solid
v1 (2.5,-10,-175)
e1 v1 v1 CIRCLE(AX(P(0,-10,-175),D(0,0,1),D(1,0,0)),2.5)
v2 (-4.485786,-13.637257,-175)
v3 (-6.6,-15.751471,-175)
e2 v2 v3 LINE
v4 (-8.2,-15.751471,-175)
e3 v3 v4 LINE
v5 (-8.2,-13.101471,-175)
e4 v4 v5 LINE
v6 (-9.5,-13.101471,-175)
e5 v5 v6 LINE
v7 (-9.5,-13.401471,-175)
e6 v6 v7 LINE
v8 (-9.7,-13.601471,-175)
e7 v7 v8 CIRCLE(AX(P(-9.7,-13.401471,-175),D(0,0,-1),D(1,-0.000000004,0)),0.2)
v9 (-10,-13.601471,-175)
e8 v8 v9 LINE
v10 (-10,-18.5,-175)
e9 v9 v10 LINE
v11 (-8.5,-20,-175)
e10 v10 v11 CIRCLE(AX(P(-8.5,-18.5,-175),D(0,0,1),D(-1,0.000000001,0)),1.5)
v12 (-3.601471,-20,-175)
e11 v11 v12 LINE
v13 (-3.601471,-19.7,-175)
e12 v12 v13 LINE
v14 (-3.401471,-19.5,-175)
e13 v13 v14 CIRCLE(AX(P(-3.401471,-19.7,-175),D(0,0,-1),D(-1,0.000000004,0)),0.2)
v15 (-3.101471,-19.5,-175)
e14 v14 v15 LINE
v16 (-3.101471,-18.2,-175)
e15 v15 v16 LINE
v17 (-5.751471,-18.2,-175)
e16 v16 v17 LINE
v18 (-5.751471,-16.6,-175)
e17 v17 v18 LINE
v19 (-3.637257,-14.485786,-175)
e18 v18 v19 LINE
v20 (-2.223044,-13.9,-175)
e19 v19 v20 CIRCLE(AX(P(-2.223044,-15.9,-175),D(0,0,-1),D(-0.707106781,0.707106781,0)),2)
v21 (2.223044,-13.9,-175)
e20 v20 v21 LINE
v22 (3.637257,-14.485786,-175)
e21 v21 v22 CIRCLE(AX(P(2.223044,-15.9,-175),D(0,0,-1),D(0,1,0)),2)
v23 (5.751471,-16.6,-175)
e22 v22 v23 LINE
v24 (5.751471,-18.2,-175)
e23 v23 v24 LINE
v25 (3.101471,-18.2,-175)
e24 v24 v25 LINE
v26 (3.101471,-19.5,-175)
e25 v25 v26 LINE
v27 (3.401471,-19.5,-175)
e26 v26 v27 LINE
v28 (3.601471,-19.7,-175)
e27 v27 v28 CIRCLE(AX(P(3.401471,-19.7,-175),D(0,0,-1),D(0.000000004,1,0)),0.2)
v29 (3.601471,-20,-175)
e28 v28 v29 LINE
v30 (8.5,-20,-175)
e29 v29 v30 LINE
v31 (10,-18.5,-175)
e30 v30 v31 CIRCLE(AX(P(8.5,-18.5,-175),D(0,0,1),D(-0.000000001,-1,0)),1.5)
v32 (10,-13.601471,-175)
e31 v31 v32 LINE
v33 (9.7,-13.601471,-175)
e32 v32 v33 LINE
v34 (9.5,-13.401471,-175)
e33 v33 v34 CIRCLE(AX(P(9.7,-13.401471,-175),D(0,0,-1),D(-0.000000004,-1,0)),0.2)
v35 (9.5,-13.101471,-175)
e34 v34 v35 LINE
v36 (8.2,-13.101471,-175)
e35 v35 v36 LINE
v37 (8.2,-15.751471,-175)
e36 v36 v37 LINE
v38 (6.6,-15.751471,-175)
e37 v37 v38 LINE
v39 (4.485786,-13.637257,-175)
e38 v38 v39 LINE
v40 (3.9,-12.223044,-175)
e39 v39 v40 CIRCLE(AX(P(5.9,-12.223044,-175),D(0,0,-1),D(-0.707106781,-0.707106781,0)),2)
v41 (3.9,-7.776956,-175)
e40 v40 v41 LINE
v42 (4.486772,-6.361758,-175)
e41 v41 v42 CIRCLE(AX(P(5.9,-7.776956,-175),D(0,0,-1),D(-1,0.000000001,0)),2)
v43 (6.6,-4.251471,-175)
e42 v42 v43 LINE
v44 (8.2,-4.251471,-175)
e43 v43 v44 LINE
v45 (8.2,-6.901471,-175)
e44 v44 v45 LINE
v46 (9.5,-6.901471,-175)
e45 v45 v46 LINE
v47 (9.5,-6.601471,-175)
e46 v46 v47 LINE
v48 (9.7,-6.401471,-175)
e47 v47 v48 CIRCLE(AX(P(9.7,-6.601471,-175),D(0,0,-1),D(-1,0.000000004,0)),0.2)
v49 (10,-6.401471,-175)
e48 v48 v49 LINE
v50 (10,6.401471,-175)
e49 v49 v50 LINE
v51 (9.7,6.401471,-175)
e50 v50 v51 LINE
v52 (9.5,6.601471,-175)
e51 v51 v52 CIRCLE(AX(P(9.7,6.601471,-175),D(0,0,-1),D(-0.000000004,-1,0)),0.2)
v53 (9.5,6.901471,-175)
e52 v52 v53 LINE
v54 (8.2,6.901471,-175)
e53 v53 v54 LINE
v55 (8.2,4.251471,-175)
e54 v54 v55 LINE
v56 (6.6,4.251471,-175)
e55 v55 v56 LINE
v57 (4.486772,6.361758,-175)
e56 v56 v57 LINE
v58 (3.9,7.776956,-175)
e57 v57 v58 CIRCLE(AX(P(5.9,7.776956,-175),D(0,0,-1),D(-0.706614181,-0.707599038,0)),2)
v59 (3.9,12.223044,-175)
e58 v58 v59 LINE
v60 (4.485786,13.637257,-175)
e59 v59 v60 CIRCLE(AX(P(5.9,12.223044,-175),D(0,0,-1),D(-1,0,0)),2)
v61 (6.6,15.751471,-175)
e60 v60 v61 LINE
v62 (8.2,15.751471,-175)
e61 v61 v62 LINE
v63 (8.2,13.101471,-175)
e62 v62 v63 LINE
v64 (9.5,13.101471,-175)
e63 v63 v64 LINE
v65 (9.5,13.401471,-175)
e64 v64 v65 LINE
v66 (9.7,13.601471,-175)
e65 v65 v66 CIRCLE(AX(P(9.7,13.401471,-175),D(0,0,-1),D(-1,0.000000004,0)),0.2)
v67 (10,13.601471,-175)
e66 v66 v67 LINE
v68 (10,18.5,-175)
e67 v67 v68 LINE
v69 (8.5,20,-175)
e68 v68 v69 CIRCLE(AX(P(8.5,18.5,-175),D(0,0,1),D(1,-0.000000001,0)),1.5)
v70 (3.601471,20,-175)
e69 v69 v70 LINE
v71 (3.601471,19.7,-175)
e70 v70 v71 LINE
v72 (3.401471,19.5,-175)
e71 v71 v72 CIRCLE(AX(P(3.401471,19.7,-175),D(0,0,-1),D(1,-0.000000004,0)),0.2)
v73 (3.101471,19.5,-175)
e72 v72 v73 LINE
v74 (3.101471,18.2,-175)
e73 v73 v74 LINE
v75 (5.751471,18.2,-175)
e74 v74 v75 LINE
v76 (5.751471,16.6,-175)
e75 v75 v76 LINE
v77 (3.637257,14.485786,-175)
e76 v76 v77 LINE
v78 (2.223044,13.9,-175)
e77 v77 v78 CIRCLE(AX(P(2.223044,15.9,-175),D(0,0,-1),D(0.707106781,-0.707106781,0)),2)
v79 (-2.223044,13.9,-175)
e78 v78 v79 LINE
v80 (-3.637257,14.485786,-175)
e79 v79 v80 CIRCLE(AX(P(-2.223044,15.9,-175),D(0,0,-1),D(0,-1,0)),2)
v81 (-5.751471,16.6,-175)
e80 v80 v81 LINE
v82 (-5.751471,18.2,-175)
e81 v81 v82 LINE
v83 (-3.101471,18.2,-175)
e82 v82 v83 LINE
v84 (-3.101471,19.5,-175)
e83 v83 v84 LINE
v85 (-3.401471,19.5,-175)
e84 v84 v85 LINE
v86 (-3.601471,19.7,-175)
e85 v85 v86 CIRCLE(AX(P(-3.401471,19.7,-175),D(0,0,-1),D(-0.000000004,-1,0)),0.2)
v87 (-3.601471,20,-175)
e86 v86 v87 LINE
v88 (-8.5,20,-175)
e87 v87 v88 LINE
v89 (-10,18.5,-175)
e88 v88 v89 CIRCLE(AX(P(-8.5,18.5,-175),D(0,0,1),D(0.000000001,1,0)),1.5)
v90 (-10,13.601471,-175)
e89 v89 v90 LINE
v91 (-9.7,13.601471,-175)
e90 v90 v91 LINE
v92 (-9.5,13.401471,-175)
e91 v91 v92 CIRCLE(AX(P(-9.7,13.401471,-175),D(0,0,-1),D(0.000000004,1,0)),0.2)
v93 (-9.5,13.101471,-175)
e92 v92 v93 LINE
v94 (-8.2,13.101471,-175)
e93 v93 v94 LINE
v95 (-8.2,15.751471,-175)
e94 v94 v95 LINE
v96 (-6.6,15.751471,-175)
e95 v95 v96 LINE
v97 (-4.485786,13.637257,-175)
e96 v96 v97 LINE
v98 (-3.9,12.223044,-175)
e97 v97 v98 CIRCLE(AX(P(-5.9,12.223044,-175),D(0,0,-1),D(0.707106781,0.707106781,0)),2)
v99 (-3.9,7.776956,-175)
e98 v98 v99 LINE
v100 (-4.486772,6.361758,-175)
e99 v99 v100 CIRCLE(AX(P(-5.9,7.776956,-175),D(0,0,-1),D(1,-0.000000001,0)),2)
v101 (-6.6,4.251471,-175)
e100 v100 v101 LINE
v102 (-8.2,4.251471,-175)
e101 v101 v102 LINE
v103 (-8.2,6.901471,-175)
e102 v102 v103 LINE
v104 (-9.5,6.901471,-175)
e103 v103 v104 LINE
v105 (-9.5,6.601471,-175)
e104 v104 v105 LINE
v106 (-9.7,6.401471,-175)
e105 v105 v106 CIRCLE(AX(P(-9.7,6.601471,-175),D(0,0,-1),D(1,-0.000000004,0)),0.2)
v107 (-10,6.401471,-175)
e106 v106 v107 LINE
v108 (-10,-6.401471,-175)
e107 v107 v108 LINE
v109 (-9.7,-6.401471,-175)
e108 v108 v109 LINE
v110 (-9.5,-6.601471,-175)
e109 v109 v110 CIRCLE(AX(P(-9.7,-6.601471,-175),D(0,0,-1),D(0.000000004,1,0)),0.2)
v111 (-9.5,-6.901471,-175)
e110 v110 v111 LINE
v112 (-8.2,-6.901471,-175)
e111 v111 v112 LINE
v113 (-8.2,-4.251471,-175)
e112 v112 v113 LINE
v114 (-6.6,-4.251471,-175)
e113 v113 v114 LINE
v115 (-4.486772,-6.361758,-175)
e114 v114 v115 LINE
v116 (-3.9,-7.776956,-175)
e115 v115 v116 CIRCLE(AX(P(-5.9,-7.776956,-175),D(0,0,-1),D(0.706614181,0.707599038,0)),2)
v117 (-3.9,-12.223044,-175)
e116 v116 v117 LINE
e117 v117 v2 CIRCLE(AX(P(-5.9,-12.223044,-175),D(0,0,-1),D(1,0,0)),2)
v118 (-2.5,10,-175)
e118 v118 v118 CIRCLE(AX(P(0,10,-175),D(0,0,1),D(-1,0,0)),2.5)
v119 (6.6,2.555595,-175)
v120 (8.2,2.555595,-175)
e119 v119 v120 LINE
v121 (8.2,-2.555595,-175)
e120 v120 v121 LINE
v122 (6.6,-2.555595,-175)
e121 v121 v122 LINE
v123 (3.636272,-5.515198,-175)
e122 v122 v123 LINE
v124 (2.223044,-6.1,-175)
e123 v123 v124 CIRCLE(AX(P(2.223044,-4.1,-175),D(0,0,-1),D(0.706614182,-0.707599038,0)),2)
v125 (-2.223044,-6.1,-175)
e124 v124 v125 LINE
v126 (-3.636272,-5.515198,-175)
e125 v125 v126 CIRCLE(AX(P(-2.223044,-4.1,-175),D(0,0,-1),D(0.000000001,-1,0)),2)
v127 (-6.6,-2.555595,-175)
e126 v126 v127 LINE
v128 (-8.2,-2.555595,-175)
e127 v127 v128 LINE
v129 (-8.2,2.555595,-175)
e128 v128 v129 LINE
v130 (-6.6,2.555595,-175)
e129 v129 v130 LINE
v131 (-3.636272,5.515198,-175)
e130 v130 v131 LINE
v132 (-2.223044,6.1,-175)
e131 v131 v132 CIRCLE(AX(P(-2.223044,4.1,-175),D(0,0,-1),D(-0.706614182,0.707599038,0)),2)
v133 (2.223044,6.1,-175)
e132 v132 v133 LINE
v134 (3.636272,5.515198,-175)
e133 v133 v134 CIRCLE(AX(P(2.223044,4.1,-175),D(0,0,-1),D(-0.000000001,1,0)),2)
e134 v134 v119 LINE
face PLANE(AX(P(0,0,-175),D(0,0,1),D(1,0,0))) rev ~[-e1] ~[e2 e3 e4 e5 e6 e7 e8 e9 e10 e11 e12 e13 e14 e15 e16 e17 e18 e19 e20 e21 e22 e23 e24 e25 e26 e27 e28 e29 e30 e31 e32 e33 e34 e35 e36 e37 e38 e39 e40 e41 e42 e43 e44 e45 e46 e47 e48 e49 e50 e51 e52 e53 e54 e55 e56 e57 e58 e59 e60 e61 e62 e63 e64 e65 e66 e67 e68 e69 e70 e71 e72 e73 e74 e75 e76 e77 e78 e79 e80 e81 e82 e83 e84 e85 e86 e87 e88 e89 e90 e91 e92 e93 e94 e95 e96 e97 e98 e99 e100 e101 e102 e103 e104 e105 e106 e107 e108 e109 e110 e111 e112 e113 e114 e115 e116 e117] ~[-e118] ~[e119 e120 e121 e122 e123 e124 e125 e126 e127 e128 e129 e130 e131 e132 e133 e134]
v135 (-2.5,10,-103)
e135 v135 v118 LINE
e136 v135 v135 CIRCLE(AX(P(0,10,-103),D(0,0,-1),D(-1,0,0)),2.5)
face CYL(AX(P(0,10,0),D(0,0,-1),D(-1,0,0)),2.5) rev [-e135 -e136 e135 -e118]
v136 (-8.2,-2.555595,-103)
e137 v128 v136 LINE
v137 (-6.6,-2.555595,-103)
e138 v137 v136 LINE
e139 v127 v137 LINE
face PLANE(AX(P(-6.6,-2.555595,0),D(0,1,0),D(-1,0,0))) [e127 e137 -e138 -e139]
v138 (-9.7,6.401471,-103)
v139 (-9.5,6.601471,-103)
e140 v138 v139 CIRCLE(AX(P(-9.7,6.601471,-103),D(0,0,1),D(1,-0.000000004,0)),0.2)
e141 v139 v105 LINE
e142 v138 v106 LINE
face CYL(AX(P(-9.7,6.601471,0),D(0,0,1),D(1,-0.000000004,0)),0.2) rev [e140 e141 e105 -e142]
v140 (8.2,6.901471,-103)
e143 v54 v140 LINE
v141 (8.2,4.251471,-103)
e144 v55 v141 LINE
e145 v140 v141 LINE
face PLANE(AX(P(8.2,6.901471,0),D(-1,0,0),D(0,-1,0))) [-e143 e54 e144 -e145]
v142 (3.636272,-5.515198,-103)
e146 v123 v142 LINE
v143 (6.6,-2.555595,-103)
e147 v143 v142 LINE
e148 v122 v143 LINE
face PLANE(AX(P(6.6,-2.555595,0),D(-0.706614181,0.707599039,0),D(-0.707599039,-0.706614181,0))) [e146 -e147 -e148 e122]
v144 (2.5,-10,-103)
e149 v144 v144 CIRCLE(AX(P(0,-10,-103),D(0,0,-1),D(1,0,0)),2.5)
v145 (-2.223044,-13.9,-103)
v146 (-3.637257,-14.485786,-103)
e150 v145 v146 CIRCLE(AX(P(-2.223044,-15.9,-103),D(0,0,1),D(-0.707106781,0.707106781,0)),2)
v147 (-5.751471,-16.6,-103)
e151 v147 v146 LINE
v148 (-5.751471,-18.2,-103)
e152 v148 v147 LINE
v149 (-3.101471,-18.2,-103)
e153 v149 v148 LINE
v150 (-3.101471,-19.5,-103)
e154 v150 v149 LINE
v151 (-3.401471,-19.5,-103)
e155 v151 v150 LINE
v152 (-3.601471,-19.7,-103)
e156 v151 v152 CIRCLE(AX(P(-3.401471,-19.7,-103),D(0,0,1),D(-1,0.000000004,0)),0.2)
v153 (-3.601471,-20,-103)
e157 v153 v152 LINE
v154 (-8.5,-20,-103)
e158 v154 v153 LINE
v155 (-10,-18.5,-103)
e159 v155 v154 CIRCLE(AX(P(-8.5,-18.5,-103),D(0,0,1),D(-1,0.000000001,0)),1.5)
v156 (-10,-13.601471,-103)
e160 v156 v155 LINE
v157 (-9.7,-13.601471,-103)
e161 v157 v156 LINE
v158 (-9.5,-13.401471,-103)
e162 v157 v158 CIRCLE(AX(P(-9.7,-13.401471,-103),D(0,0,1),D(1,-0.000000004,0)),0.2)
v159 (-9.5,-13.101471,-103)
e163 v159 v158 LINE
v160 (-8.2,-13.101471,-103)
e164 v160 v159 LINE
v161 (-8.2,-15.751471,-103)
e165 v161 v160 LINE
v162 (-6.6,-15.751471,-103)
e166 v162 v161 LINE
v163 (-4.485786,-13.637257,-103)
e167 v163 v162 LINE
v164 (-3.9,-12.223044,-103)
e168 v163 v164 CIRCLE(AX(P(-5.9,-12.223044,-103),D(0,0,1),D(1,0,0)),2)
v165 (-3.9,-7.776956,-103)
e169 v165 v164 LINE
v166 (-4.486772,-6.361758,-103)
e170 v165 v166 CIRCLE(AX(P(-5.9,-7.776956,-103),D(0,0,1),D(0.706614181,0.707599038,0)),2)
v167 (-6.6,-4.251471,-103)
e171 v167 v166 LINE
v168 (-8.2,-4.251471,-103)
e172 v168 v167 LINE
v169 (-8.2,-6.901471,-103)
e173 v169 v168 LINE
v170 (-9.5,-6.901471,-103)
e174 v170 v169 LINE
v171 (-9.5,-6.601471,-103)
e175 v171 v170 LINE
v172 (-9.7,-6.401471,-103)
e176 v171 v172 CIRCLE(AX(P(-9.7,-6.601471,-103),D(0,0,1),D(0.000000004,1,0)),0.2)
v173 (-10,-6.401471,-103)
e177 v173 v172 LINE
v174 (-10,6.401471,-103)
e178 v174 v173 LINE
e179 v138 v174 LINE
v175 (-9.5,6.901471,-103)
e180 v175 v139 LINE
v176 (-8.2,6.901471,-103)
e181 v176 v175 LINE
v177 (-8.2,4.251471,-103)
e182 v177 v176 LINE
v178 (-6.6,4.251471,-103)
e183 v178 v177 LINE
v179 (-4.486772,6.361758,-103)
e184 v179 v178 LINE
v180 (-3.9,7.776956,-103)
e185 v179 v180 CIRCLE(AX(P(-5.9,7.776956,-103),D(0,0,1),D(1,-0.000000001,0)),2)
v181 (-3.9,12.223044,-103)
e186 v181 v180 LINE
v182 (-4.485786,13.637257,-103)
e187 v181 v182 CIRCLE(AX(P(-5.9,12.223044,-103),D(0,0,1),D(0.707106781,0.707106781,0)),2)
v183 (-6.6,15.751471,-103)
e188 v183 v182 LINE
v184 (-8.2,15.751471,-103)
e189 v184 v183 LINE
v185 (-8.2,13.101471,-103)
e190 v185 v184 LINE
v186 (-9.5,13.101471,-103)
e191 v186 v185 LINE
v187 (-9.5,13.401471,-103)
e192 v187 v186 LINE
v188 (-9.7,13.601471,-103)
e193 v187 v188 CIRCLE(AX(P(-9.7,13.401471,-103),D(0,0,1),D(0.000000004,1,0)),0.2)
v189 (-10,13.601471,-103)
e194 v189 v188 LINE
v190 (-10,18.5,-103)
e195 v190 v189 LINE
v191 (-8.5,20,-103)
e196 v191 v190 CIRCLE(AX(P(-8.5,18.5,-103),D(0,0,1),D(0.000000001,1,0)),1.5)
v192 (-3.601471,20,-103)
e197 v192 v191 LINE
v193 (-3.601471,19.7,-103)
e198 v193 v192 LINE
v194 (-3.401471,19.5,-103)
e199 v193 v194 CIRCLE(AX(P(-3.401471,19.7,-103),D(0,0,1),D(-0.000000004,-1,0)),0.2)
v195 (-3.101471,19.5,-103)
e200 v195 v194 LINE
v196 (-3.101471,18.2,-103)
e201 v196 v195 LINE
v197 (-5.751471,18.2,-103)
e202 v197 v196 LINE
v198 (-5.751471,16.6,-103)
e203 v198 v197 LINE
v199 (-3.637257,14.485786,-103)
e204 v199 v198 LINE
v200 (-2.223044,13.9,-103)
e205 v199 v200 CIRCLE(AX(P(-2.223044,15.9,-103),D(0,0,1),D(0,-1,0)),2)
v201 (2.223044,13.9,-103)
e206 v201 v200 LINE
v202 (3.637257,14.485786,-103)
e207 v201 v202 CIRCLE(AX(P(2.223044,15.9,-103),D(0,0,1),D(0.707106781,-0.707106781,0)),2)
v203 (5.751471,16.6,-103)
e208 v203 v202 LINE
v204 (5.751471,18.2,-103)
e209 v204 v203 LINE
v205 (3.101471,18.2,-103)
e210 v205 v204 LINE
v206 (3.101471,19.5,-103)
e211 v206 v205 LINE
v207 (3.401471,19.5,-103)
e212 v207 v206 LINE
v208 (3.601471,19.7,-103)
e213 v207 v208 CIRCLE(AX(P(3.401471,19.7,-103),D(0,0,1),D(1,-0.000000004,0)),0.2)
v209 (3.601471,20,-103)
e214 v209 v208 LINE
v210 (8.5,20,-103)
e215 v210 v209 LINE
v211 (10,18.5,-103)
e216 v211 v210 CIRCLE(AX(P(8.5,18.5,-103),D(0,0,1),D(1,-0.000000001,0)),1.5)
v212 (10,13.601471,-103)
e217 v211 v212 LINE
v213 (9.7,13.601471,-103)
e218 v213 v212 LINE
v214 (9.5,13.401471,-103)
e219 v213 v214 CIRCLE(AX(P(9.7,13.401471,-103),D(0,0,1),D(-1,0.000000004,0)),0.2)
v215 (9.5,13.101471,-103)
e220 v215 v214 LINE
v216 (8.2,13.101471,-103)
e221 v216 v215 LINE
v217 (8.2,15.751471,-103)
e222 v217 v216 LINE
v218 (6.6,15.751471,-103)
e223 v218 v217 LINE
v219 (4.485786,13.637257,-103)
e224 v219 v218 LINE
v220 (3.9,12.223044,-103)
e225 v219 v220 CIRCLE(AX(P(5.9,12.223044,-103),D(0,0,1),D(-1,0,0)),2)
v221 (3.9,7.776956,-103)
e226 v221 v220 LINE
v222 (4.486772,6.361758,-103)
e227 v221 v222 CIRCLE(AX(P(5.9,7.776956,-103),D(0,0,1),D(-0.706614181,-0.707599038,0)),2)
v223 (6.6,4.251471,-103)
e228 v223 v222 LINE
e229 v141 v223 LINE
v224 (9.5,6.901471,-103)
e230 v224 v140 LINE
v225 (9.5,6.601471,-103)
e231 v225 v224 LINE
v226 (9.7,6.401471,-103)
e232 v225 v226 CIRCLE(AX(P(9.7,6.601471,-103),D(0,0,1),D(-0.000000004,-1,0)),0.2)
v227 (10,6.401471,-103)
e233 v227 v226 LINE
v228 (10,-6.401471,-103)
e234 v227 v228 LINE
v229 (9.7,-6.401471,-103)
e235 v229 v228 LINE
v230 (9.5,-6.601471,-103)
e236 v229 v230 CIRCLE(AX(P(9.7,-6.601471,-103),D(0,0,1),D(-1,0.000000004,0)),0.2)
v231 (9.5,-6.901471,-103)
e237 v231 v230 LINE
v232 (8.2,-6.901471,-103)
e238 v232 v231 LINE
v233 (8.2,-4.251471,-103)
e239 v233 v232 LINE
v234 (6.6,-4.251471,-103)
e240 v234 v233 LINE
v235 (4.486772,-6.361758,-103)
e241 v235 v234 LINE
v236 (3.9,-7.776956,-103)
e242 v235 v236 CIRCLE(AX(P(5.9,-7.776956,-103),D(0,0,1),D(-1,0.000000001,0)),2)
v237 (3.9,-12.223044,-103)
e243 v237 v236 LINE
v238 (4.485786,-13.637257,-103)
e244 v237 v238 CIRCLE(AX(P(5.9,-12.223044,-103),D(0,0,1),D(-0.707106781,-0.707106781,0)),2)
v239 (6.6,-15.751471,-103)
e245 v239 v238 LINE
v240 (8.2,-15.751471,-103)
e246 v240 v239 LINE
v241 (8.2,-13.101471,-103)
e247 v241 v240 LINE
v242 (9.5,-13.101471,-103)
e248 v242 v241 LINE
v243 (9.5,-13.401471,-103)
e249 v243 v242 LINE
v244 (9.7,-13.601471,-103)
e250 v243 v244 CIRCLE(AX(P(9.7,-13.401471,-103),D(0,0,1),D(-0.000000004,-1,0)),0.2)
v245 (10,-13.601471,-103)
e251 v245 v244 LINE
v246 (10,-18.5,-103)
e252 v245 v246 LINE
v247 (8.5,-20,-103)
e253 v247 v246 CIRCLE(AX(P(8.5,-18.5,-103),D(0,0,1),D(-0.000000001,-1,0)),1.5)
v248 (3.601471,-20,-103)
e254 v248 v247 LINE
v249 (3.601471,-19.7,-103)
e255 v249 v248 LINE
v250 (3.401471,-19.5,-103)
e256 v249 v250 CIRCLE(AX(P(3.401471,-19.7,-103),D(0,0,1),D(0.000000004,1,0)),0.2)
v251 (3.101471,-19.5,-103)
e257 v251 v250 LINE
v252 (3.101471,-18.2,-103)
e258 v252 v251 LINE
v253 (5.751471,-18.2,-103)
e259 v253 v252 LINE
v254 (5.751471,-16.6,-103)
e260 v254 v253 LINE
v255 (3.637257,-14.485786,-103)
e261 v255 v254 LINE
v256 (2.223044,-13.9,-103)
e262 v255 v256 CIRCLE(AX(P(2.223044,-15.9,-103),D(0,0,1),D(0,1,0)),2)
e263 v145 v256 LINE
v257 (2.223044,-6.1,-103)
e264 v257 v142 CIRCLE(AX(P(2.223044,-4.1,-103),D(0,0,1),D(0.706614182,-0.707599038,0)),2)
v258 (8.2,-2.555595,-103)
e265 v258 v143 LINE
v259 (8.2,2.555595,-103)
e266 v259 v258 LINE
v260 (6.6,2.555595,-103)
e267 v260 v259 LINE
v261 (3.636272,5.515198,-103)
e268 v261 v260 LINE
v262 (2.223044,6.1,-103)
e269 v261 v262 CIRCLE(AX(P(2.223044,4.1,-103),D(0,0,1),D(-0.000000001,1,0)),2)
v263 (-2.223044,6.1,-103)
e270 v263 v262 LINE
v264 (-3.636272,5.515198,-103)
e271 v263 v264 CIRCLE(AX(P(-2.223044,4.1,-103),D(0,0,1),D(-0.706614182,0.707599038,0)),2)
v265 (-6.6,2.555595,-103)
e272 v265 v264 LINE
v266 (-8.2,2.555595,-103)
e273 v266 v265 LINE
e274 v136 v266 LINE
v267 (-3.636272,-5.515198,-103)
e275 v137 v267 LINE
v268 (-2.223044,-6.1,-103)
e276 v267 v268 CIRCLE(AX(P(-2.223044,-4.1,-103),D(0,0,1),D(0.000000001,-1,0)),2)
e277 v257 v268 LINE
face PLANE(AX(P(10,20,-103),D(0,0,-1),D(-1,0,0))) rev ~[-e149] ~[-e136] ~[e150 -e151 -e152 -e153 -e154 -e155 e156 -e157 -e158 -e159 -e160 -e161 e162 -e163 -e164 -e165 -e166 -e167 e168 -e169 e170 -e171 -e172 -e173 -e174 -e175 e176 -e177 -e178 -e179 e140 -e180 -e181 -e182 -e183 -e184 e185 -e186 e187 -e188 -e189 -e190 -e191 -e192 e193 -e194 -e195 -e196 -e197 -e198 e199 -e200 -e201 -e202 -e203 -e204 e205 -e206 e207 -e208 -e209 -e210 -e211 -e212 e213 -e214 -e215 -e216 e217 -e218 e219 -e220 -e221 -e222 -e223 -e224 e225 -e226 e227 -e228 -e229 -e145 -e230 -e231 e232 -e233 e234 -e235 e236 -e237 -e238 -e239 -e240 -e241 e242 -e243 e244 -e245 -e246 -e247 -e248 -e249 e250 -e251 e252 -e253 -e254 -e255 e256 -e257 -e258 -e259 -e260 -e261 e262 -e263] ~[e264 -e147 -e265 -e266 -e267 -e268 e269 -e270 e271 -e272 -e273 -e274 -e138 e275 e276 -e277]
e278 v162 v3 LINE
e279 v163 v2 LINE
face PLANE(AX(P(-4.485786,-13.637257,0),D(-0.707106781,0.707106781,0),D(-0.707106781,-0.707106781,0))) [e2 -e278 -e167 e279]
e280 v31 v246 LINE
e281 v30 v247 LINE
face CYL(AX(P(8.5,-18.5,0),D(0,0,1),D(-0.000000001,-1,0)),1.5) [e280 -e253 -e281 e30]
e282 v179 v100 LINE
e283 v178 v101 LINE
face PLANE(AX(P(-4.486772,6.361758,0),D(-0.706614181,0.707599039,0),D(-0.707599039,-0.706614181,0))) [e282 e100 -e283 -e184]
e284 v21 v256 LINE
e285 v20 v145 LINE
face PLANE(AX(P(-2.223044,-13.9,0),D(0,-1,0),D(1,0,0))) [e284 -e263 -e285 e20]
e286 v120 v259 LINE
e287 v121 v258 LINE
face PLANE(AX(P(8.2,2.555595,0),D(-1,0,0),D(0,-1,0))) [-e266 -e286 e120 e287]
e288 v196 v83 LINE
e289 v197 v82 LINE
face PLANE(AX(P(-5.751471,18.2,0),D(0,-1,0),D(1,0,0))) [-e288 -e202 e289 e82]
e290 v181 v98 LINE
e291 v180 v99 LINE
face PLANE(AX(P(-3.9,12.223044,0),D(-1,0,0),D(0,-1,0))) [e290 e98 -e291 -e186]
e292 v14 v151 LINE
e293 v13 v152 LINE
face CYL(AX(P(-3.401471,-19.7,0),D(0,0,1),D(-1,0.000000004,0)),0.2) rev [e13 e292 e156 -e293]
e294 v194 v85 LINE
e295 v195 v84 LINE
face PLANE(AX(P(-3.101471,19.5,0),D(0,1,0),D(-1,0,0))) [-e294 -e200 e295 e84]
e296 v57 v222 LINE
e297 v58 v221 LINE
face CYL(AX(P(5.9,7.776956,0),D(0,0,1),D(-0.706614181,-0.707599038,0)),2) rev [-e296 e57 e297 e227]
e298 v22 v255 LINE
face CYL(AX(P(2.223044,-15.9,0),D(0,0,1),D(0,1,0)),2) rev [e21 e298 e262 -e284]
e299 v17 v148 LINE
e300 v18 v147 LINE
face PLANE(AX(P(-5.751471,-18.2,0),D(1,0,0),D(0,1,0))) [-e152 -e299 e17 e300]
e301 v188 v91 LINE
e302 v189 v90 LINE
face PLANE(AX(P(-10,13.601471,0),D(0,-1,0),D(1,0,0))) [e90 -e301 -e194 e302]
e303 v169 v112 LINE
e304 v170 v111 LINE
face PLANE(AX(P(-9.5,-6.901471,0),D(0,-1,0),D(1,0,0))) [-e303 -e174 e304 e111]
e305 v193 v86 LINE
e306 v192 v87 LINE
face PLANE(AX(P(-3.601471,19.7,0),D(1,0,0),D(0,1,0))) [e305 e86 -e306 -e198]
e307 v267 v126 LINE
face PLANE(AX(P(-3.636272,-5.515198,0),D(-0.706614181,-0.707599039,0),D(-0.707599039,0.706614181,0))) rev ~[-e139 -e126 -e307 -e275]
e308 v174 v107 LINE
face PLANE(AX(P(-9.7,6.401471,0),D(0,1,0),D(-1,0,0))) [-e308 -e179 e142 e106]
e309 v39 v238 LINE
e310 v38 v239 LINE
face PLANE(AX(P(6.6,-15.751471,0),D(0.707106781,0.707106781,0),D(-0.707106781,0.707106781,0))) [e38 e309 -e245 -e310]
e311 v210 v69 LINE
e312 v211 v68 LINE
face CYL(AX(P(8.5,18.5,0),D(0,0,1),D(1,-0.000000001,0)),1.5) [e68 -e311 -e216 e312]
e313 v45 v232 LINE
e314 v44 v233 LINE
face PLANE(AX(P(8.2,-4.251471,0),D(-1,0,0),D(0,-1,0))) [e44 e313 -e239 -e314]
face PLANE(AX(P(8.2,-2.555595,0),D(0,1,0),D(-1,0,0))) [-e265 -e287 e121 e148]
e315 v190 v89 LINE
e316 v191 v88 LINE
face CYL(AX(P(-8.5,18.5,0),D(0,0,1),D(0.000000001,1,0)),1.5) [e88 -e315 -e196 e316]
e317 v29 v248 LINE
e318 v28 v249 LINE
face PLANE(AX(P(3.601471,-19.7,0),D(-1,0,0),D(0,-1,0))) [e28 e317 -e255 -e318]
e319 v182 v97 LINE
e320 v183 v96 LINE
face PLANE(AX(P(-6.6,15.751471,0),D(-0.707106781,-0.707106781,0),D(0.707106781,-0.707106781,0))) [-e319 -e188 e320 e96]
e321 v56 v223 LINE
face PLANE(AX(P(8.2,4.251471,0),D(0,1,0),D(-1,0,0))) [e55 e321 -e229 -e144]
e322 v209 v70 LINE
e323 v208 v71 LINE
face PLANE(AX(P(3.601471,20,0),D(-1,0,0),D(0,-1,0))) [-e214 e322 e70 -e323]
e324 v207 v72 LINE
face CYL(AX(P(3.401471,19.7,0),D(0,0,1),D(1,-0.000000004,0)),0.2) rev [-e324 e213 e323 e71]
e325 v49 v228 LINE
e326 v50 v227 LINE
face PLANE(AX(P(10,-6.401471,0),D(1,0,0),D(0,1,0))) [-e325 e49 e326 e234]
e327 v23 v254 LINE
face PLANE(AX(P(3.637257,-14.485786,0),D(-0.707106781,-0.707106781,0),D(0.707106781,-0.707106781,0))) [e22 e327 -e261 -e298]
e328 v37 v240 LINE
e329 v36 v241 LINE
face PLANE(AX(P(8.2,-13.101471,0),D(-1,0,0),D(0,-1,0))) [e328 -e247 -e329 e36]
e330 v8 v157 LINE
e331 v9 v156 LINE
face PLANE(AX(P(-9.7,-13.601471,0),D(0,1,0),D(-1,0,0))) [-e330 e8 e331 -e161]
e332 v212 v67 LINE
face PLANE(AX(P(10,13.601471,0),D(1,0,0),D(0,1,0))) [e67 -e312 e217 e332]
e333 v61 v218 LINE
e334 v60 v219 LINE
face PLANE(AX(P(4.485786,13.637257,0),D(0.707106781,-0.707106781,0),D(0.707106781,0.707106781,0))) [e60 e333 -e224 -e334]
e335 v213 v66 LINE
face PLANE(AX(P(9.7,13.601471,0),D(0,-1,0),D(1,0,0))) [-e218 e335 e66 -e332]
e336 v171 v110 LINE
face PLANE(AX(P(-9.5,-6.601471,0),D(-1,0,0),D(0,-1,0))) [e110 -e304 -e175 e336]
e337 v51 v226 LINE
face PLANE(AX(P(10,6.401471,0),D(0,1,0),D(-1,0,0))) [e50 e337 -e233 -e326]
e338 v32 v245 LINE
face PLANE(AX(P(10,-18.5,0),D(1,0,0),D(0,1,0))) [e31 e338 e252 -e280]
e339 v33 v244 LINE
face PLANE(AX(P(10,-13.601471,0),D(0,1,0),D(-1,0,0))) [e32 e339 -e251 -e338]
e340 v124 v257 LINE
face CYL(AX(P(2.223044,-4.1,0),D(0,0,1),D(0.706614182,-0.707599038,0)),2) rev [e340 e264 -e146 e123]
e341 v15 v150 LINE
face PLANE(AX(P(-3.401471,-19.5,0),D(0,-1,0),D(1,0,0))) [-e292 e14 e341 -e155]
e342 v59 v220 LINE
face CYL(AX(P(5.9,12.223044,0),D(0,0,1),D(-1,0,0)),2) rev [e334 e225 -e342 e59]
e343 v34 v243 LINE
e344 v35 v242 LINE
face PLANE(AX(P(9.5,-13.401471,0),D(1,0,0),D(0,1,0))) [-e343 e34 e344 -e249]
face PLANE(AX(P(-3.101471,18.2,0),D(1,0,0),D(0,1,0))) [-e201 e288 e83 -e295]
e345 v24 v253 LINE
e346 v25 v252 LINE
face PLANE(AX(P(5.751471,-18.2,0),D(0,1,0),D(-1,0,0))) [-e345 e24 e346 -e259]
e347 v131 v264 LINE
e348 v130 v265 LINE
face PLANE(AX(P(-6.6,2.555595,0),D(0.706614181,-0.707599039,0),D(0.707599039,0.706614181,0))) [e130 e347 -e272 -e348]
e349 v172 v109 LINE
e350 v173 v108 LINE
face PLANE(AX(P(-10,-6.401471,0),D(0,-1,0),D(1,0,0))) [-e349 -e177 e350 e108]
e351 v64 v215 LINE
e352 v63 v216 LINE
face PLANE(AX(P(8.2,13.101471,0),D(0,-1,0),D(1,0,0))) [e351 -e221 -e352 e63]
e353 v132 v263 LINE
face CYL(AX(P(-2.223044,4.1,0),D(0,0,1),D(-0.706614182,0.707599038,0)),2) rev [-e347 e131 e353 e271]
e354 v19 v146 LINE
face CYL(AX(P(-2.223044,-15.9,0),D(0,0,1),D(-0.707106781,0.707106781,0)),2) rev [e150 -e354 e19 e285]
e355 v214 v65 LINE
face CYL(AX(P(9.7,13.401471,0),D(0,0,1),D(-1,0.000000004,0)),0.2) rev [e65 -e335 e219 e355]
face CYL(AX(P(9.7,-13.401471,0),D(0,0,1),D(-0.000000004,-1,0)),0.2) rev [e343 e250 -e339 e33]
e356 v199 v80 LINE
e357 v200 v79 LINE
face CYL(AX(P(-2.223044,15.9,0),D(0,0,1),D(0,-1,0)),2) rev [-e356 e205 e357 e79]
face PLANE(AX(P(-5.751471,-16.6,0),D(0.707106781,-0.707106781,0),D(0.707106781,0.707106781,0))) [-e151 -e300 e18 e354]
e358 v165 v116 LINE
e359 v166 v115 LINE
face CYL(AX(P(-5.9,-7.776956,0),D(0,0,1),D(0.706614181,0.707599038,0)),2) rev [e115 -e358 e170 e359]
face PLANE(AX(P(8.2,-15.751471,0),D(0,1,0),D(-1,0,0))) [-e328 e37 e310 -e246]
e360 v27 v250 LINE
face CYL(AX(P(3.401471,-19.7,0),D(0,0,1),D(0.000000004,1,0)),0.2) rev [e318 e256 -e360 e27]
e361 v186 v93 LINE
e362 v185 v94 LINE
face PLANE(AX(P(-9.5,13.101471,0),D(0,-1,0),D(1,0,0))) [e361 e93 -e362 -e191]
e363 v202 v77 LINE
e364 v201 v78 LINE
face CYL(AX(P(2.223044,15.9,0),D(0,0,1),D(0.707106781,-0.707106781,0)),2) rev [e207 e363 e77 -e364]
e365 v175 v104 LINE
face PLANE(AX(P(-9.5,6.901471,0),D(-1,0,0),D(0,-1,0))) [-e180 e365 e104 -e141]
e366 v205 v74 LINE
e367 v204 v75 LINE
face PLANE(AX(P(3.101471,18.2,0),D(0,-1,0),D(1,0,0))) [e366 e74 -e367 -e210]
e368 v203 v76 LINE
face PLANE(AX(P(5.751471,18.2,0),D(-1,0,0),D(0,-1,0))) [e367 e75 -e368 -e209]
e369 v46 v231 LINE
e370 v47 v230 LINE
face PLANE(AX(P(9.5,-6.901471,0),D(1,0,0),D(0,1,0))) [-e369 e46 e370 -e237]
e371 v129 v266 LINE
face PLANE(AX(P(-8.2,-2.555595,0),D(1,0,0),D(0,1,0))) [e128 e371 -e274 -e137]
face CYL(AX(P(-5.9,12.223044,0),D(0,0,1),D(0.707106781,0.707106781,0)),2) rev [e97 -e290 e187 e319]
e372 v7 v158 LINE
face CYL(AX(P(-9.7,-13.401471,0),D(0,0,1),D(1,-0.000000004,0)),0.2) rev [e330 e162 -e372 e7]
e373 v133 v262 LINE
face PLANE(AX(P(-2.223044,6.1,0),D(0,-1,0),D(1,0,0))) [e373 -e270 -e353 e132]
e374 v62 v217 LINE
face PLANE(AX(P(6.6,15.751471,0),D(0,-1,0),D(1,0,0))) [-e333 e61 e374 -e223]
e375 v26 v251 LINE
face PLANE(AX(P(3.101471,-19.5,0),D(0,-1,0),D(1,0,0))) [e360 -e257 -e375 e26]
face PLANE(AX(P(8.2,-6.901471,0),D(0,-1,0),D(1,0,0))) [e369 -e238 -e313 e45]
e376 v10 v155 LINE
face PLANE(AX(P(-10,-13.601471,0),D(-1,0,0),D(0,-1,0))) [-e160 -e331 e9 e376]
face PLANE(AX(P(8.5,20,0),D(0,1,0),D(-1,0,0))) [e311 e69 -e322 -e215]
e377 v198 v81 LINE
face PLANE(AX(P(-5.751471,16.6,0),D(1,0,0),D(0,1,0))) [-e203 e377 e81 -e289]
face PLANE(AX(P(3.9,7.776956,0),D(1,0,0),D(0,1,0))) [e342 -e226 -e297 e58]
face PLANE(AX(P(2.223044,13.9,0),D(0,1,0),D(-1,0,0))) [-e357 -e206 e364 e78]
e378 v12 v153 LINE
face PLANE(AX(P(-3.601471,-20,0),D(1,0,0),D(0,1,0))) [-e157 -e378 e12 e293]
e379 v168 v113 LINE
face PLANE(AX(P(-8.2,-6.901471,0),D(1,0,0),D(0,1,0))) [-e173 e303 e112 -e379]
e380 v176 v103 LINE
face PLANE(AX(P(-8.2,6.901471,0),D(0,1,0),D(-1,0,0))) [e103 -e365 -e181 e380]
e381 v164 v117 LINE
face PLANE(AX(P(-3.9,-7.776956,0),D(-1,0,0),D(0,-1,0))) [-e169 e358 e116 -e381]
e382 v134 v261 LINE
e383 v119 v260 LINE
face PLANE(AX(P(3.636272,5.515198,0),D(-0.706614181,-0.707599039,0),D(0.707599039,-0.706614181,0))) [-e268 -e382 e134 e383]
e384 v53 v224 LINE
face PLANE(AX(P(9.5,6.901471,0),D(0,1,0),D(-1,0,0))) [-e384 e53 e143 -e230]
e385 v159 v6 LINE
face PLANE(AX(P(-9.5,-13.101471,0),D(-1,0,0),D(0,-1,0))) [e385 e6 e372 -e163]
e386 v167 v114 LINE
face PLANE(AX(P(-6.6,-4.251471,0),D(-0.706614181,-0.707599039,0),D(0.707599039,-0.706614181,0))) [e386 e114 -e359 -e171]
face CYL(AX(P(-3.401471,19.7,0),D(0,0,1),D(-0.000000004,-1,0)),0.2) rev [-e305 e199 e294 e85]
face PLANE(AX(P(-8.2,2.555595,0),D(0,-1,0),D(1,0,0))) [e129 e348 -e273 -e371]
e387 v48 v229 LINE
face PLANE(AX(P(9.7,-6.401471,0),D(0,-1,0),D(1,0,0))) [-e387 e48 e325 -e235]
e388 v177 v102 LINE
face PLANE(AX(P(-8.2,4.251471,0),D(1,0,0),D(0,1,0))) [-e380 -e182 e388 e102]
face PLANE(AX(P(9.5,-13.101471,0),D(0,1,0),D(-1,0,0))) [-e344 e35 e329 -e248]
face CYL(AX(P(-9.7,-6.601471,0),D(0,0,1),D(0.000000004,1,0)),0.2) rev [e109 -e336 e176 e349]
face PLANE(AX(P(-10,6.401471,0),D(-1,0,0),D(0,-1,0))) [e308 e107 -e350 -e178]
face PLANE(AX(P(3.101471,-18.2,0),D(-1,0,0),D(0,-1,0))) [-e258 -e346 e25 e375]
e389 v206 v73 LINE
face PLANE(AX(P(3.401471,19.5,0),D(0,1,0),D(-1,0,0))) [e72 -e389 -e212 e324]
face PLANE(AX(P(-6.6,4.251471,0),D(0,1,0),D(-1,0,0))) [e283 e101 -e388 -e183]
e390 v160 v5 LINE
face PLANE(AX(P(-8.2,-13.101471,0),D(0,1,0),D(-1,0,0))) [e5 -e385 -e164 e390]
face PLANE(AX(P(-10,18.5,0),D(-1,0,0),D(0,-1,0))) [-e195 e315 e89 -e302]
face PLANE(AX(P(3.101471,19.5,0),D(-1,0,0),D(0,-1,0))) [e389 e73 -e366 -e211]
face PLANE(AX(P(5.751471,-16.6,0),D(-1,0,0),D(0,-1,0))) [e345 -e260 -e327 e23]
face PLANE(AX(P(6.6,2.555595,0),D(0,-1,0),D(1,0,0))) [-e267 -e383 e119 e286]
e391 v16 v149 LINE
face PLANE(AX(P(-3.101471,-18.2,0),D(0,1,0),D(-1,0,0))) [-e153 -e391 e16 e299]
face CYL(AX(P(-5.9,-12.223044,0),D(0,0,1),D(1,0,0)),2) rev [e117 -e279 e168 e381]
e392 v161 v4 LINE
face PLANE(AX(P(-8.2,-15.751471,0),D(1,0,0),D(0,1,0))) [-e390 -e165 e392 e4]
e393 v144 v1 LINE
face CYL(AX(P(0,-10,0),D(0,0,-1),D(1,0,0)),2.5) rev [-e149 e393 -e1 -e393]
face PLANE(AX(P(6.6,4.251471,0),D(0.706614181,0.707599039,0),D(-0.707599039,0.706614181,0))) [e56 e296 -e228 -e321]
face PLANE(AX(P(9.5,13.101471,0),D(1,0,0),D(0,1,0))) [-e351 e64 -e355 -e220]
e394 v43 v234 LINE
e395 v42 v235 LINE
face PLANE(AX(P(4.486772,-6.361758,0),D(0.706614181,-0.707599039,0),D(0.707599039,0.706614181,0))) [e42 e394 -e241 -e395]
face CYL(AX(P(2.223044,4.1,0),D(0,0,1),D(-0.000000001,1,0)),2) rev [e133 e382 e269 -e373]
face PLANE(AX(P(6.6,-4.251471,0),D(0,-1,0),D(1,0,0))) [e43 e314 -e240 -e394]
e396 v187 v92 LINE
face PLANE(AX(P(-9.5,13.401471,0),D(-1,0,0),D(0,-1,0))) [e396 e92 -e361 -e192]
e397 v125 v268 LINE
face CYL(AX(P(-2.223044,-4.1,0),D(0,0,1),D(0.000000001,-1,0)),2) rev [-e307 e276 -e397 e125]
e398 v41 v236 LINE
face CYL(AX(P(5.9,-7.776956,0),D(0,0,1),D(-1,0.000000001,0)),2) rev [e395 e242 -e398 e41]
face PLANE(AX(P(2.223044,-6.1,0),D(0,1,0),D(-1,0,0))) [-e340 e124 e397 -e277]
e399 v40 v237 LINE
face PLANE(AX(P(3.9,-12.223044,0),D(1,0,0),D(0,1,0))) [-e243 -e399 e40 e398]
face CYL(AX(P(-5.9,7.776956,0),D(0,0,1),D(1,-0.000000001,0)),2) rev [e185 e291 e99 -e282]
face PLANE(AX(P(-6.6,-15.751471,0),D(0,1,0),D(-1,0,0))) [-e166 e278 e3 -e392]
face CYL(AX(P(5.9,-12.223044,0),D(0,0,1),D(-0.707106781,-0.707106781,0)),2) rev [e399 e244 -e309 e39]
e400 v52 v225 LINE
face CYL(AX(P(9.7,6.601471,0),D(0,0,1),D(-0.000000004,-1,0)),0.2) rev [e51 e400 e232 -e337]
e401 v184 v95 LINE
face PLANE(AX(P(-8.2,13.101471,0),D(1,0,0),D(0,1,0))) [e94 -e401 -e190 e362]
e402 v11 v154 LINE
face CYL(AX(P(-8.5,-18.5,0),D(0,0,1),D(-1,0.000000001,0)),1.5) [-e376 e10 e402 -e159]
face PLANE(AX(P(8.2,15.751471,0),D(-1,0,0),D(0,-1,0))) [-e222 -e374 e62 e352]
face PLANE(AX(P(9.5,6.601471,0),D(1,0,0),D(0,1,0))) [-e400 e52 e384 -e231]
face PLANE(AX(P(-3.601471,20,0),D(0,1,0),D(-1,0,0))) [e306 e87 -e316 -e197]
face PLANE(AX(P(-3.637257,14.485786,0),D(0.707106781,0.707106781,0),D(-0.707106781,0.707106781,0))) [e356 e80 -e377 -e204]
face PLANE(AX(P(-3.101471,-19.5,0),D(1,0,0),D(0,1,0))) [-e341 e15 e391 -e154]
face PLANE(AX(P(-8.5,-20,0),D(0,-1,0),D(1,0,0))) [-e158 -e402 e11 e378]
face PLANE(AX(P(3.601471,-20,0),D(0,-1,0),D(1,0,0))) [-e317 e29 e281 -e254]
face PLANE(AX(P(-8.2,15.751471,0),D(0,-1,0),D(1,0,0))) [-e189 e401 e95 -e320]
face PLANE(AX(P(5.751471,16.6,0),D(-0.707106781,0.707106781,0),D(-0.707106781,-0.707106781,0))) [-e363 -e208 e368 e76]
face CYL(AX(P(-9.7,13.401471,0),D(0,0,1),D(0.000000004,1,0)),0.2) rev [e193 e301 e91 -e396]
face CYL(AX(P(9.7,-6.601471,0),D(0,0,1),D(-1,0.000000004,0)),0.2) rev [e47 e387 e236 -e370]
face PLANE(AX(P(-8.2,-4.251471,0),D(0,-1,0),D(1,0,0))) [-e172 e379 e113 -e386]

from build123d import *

# Parameters (mm, degrees)
CROQUIS3_R              = 2.5
SALIENTE_EXTRUIR3_DEPTH = 175
SKETCH1_W               = 4.862742591
SKETCH1_H               = 278
SKETCH1_W_2             = 1.5
SKETCH1_W_3             = 0.035786438
CUT_EXTRUDE3_DEPTH      = 100


with BuildPart() as part:
    # Croquis3 → Saliente-Extruir3 (new, symmetric)
    with BuildSketch(Plane.XY):
        with BuildLine():
            Line((-9.5, -13.101470971), (-9.5, -13.401470971))
            ThreePointArc((-9.5, -13.401470971), (-9.558578644, -13.542892327), (-9.7, -13.601470971))
            Line((-9.7, -13.601470971), (-10, -13.601470971))
            Line((-10, -13.601470971), (-10, -18.5))
            ThreePointArc((-10, -18.5), (-9.560660172, -19.560660172), (-8.5, -20))
            Line((-8.5, -20), (-3.601470971, -20))
            Line((-3.601470971, -20), (-3.601470971, -19.7))
            ThreePointArc((-3.601470971, -19.7), (-3.542892327, -19.558578644), (-3.401470971, -19.5))
            Line((-3.401470971, -19.5), (-3.101470971, -19.5))
            Line((-3.101470971, -19.5), (-3.101470971, -18.2))
            Line((-3.101470971, -18.2), (-5.751470971, -18.2))
            Line((-5.751470971, -18.2), (-5.751470971, -16.6))
            Line((-5.751470971, -16.6), (-3.637257409, -14.485786438))
            ThreePointArc((-3.637257409, -14.485786438), (-2.988410711, -14.052240935), (-2.223043846, -13.9))
            Line((-2.223043846, -13.9), (2.223043846, -13.9))
            ThreePointArc((2.223043846, -13.9), (2.988410711, -14.052240935), (3.637257409, -14.485786438))
            Line((3.637257409, -14.485786438), (5.751470971, -16.6))
            Line((5.751470971, -16.6), (5.751470971, -18.2))
            Line((5.751470971, -18.2), (3.101470971, -18.2))
            Line((3.101470971, -18.2), (3.101470971, -19.5))
            Line((3.101470971, -19.5), (3.401470971, -19.5))
            ThreePointArc((3.401470971, -19.5), (3.542892327, -19.558578644), (3.601470971, -19.7))
            Line((3.601470971, -19.7), (3.601470971, -20))
            Line((3.601470971, -20), (8.5, -20))
            ThreePointArc((8.5, -20), (9.560660172, -19.560660172), (10, -18.5))
            Line((10, -18.5), (10, -13.601470971))
            Line((10, -13.601470971), (9.7, -13.601470971))
            ThreePointArc((9.7, -13.601470971), (9.558578644, -13.542892327), (9.5, -13.401470971))
            Line((9.5, -13.401470971), (9.5, -13.101470971))
            Line((9.5, -13.101470971), (8.2, -13.101470971))
            Line((8.2, -13.101470971), (8.2, -15.751470971))
            Line((8.2, -15.751470971), (6.6, -15.751470971))
            Line((6.6, -15.751470971), (4.485786438, -13.637257409))
            ThreePointArc((4.485786438, -13.637257409), (4.052240935, -12.988410711), (3.9, -12.223043846))
            Line((3.9, -12.223043846), (3.9, -7.776956154))
            ThreePointArc((3.9, -7.776956154), (4.052507548, -7.010945946), (4.486771639, -6.361758076))
            Line((4.486771639, -6.361758076), (6.6, -4.251470971))
            Line((6.6, -4.251470971), (8.2, -4.251470971))
            Line((8.2, -4.251470971), (8.2, -6.901470971))
            Line((8.2, -6.901470971), (9.5, -6.901470971))
            Line((9.5, -6.901470971), (9.5, -6.601470971))
            ThreePointArc((9.5, -6.601470971), (9.558578644, -6.460049615), (9.7, -6.401470971))
            Line((9.7, -6.401470971), (10, -6.401470971))
            Line((10, -6.401470971), (10, 6.401470971))
            Line((10, 6.401470971), (9.7, 6.401470971))
            ThreePointArc((9.7, 6.401470971), (9.558578644, 6.460049615), (9.5, 6.601470971))
            Line((9.5, 6.601470971), (9.5, 6.901470971))
            Line((9.5, 6.901470971), (8.2, 6.901470971))
            Line((8.2, 6.901470971), (8.2, 4.251470971))
            Line((8.2, 4.251470971), (6.6, 4.251470971))
            Line((6.6, 4.251470971), (4.486771639, 6.361758076))
            ThreePointArc((4.486771639, 6.361758076), (4.052507548, 7.010945946), (3.9, 7.776956154))
            Line((3.9, 7.776956154), (3.9, 12.223043846))
            ThreePointArc((3.9, 12.223043846), (4.052240935, 12.988410711), (4.485786438, 13.637257409))
            Line((4.485786438, 13.637257409), (6.6, 15.751470971))
            Line((6.6, 15.751470971), (8.2, 15.751470971))
            Line((8.2, 15.751470971), (8.2, 13.101470971))
            Line((8.2, 13.101470971), (9.5, 13.101470971))
            Line((9.5, 13.101470971), (9.5, 13.401470971))
            ThreePointArc((9.5, 13.401470971), (9.558578644, 13.542892327), (9.7, 13.601470971))
            Line((9.7, 13.601470971), (10, 13.601470971))
            Line((10, 13.601470971), (10, 18.5))
            ThreePointArc((10, 18.5), (9.560660172, 19.560660172), (8.5, 20))
            Line((8.5, 20), (3.601470971, 20))
            Line((3.601470971, 20), (3.601470971, 19.7))
            ThreePointArc((3.601470971, 19.7), (3.542892327, 19.558578644), (3.401470971, 19.5))
            Line((3.401470971, 19.5), (3.101470971, 19.5))
            Line((3.101470971, 19.5), (3.101470971, 18.2))
            Line((3.101470971, 18.2), (5.751470971, 18.2))
            Line((5.751470971, 18.2), (5.751470971, 16.6))
            Line((5.751470971, 16.6), (3.637257409, 14.485786438))
            ThreePointArc((3.637257409, 14.485786438), (2.988410711, 14.052240935), (2.223043846, 13.9))
            Line((2.223043846, 13.9), (-2.223043846, 13.9))
            ThreePointArc((-2.223043846, 13.9), (-2.988410711, 14.052240935), (-3.637257409, 14.485786438))
            Line((-3.637257409, 14.485786438), (-5.751470971, 16.6))
            Line((-5.751470971, 16.6), (-5.751470971, 18.2))
            Line((-5.751470971, 18.2), (-3.101470971, 18.2))
            Line((-3.101470971, 18.2), (-3.101470971, 19.5))
            Line((-3.101470971, 19.5), (-3.401470971, 19.5))
            ThreePointArc((-3.401470971, 19.5), (-3.542892327, 19.558578644), (-3.601470971, 19.7))
            Line((-3.601470971, 19.7), (-3.601470971, 20))
            Line((-3.601470971, 20), (-8.5, 20))
            ThreePointArc((-8.5, 20), (-9.560660172, 19.560660172), (-10, 18.5))
            Line((-10, 18.5), (-10, 13.601470971))
            Line((-10, 13.601470971), (-9.7, 13.601470971))
            ThreePointArc((-9.7, 13.601470971), (-9.558578644, 13.542892327), (-9.5, 13.401470971))
            Line((-9.5, 13.401470971), (-9.5, 13.101470971))
            Line((-9.5, 13.101470971), (-8.2, 13.101470971))
            Line((-8.2, 13.101470971), (-8.2, 15.751470971))
            Line((-8.2, 15.751470971), (-6.6, 15.751470971))
            Line((-6.6, 15.751470971), (-4.485786438, 13.637257409))
            ThreePointArc((-4.485786438, 13.637257409), (-4.052240935, 12.988410711), (-3.9, 12.223043846))
            Line((-3.9, 12.223043846), (-3.9, 7.776956154))
            ThreePointArc((-3.9, 7.776956154), (-4.052507548, 7.010945946), (-4.486771639, 6.361758076))
            Line((-4.486771639, 6.361758076), (-6.6, 4.251470971))
            Line((-6.6, 4.251470971), (-8.2, 4.251470971))
            Line((-8.2, 4.251470971), (-8.2, 6.901470971))
            Line((-8.2, 6.901470971), (-9.5, 6.901470971))
            Line((-9.5, 6.901470971), (-9.5, 6.601470971))
            ThreePointArc((-9.5, 6.601470971), (-9.558578644, 6.460049615), (-9.7, 6.401470971))
            Line((-9.7, 6.401470971), (-10, 6.401470971))
            Line((-10, 6.401470971), (-10, -6.401470971))
            Line((-10, -6.401470971), (-9.7, -6.401470971))
            ThreePointArc((-9.7, -6.401470971), (-9.558578644, -6.460049615), (-9.5, -6.601470971))
            Line((-9.5, -6.601470971), (-9.5, -6.901470971))
            Line((-9.5, -6.901470971), (-8.2, -6.901470971))
            Line((-8.2, -6.901470971), (-8.2, -4.251470971))
            Line((-8.2, -4.251470971), (-6.6, -4.251470971))
            Line((-6.6, -4.251470971), (-4.486771639, -6.361758076))
            ThreePointArc((-4.486771639, -6.361758076), (-4.052507548, -7.010945946), (-3.9, -7.776956154))
            Line((-3.9, -7.776956154), (-3.9, -12.223043846))
            ThreePointArc((-3.9, -12.223043846), (-4.052240935, -12.988410711), (-4.485786438, -13.637257409))
            Line((-4.485786438, -13.637257409), (-6.6, -15.751470971))
            Line((-6.6, -15.751470971), (-8.2, -15.751470971))
            Line((-8.2, -15.751470971), (-8.2, -13.101470971))
            Line((-8.2, -13.101470971), (-9.5, -13.101470971))
        make_face()
        with Locations((0, -10)):
            Circle(CROQUIS3_R, mode=Mode.SUBTRACT)
        with Locations(Location((0, 10, 0), (0, 0, 180))):
            Circle(CROQUIS3_R, mode=Mode.SUBTRACT)
        with BuildLine():
            Line((-3.636272208, -5.515198077), (-6.6, -2.555595292))
            Line((-6.6, -2.555595292), (-8.2, -2.555595292))
            Line((-8.2, -2.555595292), (-8.2, 2.555595292))
            Line((-8.2, 2.555595292), (-6.6, 2.555595292))
            Line((-6.6, 2.555595292), (-3.636272208, 5.515198077))
            ThreePointArc((-3.636272208, 5.515198077), (-2.987767275, 5.948025454), (-2.223043846, 6.1))
            Line((-2.223043846, 6.1), (2.223043846, 6.1))
            ThreePointArc((2.223043846, 6.1), (2.987767275, 5.948025454), (3.636272208, 5.515198077))
            Line((3.636272208, 5.515198077), (6.6, 2.555595292))
            Line((6.6, 2.555595292), (8.2, 2.555595292))
            Line((8.2, 2.555595292), (8.2, -2.555595292))
            Line((8.2, -2.555595292), (6.6, -2.555595292))
            Line((6.6, -2.555595292), (3.636272208, -5.515198077))
            ThreePointArc((3.636272208, -5.515198077), (2.987767275, -5.948025454), (2.223043846, -6.1))
            Line((2.223043846, -6.1), (-2.223043846, -6.1))
            ThreePointArc((-2.223043846, -6.1), (-2.987767275, -5.948025454), (-3.636272208, -5.515198077))
        make_face(mode=Mode.SUBTRACT)
    extrude(amount=SALIENTE_EXTRUIR3_DEPTH, both=True)

    # Sketch1 → Cut-Extrude3 (cut)
    with BuildSketch(Plane(origin=(0, 20, 0), x_dir=(1, 0, 0), z_dir=(0, 1, 0))):
        Polygon((3.637257409, -175), (8.5, -175), (10, -175), (10, 103), (3.637257409, 103), align=None)
        Polygon((2.223043846, -175), (3.601470971, -175), (3.601470971, 103), (-3.601470971, 103), (-3.601470971, -175), (-2.223043846, -175), align=None)
        with Locations((-6.068628705, -36)):
            Rectangle(SKETCH1_W, SKETCH1_H)
        with Locations((-9.25, -36)):
            Rectangle(SKETCH1_W_2, SKETCH1_H)
        with Locations((-3.61936419, -36)):
            Rectangle(SKETCH1_W_3, SKETCH1_H)
        with Locations((3.61936419, -36)):
            Rectangle(SKETCH1_W_3, SKETCH1_H)
    extrude(amount=-CUT_EXTRUDE3_DEPTH, mode=Mode.SUBTRACT)


solid = part.part
